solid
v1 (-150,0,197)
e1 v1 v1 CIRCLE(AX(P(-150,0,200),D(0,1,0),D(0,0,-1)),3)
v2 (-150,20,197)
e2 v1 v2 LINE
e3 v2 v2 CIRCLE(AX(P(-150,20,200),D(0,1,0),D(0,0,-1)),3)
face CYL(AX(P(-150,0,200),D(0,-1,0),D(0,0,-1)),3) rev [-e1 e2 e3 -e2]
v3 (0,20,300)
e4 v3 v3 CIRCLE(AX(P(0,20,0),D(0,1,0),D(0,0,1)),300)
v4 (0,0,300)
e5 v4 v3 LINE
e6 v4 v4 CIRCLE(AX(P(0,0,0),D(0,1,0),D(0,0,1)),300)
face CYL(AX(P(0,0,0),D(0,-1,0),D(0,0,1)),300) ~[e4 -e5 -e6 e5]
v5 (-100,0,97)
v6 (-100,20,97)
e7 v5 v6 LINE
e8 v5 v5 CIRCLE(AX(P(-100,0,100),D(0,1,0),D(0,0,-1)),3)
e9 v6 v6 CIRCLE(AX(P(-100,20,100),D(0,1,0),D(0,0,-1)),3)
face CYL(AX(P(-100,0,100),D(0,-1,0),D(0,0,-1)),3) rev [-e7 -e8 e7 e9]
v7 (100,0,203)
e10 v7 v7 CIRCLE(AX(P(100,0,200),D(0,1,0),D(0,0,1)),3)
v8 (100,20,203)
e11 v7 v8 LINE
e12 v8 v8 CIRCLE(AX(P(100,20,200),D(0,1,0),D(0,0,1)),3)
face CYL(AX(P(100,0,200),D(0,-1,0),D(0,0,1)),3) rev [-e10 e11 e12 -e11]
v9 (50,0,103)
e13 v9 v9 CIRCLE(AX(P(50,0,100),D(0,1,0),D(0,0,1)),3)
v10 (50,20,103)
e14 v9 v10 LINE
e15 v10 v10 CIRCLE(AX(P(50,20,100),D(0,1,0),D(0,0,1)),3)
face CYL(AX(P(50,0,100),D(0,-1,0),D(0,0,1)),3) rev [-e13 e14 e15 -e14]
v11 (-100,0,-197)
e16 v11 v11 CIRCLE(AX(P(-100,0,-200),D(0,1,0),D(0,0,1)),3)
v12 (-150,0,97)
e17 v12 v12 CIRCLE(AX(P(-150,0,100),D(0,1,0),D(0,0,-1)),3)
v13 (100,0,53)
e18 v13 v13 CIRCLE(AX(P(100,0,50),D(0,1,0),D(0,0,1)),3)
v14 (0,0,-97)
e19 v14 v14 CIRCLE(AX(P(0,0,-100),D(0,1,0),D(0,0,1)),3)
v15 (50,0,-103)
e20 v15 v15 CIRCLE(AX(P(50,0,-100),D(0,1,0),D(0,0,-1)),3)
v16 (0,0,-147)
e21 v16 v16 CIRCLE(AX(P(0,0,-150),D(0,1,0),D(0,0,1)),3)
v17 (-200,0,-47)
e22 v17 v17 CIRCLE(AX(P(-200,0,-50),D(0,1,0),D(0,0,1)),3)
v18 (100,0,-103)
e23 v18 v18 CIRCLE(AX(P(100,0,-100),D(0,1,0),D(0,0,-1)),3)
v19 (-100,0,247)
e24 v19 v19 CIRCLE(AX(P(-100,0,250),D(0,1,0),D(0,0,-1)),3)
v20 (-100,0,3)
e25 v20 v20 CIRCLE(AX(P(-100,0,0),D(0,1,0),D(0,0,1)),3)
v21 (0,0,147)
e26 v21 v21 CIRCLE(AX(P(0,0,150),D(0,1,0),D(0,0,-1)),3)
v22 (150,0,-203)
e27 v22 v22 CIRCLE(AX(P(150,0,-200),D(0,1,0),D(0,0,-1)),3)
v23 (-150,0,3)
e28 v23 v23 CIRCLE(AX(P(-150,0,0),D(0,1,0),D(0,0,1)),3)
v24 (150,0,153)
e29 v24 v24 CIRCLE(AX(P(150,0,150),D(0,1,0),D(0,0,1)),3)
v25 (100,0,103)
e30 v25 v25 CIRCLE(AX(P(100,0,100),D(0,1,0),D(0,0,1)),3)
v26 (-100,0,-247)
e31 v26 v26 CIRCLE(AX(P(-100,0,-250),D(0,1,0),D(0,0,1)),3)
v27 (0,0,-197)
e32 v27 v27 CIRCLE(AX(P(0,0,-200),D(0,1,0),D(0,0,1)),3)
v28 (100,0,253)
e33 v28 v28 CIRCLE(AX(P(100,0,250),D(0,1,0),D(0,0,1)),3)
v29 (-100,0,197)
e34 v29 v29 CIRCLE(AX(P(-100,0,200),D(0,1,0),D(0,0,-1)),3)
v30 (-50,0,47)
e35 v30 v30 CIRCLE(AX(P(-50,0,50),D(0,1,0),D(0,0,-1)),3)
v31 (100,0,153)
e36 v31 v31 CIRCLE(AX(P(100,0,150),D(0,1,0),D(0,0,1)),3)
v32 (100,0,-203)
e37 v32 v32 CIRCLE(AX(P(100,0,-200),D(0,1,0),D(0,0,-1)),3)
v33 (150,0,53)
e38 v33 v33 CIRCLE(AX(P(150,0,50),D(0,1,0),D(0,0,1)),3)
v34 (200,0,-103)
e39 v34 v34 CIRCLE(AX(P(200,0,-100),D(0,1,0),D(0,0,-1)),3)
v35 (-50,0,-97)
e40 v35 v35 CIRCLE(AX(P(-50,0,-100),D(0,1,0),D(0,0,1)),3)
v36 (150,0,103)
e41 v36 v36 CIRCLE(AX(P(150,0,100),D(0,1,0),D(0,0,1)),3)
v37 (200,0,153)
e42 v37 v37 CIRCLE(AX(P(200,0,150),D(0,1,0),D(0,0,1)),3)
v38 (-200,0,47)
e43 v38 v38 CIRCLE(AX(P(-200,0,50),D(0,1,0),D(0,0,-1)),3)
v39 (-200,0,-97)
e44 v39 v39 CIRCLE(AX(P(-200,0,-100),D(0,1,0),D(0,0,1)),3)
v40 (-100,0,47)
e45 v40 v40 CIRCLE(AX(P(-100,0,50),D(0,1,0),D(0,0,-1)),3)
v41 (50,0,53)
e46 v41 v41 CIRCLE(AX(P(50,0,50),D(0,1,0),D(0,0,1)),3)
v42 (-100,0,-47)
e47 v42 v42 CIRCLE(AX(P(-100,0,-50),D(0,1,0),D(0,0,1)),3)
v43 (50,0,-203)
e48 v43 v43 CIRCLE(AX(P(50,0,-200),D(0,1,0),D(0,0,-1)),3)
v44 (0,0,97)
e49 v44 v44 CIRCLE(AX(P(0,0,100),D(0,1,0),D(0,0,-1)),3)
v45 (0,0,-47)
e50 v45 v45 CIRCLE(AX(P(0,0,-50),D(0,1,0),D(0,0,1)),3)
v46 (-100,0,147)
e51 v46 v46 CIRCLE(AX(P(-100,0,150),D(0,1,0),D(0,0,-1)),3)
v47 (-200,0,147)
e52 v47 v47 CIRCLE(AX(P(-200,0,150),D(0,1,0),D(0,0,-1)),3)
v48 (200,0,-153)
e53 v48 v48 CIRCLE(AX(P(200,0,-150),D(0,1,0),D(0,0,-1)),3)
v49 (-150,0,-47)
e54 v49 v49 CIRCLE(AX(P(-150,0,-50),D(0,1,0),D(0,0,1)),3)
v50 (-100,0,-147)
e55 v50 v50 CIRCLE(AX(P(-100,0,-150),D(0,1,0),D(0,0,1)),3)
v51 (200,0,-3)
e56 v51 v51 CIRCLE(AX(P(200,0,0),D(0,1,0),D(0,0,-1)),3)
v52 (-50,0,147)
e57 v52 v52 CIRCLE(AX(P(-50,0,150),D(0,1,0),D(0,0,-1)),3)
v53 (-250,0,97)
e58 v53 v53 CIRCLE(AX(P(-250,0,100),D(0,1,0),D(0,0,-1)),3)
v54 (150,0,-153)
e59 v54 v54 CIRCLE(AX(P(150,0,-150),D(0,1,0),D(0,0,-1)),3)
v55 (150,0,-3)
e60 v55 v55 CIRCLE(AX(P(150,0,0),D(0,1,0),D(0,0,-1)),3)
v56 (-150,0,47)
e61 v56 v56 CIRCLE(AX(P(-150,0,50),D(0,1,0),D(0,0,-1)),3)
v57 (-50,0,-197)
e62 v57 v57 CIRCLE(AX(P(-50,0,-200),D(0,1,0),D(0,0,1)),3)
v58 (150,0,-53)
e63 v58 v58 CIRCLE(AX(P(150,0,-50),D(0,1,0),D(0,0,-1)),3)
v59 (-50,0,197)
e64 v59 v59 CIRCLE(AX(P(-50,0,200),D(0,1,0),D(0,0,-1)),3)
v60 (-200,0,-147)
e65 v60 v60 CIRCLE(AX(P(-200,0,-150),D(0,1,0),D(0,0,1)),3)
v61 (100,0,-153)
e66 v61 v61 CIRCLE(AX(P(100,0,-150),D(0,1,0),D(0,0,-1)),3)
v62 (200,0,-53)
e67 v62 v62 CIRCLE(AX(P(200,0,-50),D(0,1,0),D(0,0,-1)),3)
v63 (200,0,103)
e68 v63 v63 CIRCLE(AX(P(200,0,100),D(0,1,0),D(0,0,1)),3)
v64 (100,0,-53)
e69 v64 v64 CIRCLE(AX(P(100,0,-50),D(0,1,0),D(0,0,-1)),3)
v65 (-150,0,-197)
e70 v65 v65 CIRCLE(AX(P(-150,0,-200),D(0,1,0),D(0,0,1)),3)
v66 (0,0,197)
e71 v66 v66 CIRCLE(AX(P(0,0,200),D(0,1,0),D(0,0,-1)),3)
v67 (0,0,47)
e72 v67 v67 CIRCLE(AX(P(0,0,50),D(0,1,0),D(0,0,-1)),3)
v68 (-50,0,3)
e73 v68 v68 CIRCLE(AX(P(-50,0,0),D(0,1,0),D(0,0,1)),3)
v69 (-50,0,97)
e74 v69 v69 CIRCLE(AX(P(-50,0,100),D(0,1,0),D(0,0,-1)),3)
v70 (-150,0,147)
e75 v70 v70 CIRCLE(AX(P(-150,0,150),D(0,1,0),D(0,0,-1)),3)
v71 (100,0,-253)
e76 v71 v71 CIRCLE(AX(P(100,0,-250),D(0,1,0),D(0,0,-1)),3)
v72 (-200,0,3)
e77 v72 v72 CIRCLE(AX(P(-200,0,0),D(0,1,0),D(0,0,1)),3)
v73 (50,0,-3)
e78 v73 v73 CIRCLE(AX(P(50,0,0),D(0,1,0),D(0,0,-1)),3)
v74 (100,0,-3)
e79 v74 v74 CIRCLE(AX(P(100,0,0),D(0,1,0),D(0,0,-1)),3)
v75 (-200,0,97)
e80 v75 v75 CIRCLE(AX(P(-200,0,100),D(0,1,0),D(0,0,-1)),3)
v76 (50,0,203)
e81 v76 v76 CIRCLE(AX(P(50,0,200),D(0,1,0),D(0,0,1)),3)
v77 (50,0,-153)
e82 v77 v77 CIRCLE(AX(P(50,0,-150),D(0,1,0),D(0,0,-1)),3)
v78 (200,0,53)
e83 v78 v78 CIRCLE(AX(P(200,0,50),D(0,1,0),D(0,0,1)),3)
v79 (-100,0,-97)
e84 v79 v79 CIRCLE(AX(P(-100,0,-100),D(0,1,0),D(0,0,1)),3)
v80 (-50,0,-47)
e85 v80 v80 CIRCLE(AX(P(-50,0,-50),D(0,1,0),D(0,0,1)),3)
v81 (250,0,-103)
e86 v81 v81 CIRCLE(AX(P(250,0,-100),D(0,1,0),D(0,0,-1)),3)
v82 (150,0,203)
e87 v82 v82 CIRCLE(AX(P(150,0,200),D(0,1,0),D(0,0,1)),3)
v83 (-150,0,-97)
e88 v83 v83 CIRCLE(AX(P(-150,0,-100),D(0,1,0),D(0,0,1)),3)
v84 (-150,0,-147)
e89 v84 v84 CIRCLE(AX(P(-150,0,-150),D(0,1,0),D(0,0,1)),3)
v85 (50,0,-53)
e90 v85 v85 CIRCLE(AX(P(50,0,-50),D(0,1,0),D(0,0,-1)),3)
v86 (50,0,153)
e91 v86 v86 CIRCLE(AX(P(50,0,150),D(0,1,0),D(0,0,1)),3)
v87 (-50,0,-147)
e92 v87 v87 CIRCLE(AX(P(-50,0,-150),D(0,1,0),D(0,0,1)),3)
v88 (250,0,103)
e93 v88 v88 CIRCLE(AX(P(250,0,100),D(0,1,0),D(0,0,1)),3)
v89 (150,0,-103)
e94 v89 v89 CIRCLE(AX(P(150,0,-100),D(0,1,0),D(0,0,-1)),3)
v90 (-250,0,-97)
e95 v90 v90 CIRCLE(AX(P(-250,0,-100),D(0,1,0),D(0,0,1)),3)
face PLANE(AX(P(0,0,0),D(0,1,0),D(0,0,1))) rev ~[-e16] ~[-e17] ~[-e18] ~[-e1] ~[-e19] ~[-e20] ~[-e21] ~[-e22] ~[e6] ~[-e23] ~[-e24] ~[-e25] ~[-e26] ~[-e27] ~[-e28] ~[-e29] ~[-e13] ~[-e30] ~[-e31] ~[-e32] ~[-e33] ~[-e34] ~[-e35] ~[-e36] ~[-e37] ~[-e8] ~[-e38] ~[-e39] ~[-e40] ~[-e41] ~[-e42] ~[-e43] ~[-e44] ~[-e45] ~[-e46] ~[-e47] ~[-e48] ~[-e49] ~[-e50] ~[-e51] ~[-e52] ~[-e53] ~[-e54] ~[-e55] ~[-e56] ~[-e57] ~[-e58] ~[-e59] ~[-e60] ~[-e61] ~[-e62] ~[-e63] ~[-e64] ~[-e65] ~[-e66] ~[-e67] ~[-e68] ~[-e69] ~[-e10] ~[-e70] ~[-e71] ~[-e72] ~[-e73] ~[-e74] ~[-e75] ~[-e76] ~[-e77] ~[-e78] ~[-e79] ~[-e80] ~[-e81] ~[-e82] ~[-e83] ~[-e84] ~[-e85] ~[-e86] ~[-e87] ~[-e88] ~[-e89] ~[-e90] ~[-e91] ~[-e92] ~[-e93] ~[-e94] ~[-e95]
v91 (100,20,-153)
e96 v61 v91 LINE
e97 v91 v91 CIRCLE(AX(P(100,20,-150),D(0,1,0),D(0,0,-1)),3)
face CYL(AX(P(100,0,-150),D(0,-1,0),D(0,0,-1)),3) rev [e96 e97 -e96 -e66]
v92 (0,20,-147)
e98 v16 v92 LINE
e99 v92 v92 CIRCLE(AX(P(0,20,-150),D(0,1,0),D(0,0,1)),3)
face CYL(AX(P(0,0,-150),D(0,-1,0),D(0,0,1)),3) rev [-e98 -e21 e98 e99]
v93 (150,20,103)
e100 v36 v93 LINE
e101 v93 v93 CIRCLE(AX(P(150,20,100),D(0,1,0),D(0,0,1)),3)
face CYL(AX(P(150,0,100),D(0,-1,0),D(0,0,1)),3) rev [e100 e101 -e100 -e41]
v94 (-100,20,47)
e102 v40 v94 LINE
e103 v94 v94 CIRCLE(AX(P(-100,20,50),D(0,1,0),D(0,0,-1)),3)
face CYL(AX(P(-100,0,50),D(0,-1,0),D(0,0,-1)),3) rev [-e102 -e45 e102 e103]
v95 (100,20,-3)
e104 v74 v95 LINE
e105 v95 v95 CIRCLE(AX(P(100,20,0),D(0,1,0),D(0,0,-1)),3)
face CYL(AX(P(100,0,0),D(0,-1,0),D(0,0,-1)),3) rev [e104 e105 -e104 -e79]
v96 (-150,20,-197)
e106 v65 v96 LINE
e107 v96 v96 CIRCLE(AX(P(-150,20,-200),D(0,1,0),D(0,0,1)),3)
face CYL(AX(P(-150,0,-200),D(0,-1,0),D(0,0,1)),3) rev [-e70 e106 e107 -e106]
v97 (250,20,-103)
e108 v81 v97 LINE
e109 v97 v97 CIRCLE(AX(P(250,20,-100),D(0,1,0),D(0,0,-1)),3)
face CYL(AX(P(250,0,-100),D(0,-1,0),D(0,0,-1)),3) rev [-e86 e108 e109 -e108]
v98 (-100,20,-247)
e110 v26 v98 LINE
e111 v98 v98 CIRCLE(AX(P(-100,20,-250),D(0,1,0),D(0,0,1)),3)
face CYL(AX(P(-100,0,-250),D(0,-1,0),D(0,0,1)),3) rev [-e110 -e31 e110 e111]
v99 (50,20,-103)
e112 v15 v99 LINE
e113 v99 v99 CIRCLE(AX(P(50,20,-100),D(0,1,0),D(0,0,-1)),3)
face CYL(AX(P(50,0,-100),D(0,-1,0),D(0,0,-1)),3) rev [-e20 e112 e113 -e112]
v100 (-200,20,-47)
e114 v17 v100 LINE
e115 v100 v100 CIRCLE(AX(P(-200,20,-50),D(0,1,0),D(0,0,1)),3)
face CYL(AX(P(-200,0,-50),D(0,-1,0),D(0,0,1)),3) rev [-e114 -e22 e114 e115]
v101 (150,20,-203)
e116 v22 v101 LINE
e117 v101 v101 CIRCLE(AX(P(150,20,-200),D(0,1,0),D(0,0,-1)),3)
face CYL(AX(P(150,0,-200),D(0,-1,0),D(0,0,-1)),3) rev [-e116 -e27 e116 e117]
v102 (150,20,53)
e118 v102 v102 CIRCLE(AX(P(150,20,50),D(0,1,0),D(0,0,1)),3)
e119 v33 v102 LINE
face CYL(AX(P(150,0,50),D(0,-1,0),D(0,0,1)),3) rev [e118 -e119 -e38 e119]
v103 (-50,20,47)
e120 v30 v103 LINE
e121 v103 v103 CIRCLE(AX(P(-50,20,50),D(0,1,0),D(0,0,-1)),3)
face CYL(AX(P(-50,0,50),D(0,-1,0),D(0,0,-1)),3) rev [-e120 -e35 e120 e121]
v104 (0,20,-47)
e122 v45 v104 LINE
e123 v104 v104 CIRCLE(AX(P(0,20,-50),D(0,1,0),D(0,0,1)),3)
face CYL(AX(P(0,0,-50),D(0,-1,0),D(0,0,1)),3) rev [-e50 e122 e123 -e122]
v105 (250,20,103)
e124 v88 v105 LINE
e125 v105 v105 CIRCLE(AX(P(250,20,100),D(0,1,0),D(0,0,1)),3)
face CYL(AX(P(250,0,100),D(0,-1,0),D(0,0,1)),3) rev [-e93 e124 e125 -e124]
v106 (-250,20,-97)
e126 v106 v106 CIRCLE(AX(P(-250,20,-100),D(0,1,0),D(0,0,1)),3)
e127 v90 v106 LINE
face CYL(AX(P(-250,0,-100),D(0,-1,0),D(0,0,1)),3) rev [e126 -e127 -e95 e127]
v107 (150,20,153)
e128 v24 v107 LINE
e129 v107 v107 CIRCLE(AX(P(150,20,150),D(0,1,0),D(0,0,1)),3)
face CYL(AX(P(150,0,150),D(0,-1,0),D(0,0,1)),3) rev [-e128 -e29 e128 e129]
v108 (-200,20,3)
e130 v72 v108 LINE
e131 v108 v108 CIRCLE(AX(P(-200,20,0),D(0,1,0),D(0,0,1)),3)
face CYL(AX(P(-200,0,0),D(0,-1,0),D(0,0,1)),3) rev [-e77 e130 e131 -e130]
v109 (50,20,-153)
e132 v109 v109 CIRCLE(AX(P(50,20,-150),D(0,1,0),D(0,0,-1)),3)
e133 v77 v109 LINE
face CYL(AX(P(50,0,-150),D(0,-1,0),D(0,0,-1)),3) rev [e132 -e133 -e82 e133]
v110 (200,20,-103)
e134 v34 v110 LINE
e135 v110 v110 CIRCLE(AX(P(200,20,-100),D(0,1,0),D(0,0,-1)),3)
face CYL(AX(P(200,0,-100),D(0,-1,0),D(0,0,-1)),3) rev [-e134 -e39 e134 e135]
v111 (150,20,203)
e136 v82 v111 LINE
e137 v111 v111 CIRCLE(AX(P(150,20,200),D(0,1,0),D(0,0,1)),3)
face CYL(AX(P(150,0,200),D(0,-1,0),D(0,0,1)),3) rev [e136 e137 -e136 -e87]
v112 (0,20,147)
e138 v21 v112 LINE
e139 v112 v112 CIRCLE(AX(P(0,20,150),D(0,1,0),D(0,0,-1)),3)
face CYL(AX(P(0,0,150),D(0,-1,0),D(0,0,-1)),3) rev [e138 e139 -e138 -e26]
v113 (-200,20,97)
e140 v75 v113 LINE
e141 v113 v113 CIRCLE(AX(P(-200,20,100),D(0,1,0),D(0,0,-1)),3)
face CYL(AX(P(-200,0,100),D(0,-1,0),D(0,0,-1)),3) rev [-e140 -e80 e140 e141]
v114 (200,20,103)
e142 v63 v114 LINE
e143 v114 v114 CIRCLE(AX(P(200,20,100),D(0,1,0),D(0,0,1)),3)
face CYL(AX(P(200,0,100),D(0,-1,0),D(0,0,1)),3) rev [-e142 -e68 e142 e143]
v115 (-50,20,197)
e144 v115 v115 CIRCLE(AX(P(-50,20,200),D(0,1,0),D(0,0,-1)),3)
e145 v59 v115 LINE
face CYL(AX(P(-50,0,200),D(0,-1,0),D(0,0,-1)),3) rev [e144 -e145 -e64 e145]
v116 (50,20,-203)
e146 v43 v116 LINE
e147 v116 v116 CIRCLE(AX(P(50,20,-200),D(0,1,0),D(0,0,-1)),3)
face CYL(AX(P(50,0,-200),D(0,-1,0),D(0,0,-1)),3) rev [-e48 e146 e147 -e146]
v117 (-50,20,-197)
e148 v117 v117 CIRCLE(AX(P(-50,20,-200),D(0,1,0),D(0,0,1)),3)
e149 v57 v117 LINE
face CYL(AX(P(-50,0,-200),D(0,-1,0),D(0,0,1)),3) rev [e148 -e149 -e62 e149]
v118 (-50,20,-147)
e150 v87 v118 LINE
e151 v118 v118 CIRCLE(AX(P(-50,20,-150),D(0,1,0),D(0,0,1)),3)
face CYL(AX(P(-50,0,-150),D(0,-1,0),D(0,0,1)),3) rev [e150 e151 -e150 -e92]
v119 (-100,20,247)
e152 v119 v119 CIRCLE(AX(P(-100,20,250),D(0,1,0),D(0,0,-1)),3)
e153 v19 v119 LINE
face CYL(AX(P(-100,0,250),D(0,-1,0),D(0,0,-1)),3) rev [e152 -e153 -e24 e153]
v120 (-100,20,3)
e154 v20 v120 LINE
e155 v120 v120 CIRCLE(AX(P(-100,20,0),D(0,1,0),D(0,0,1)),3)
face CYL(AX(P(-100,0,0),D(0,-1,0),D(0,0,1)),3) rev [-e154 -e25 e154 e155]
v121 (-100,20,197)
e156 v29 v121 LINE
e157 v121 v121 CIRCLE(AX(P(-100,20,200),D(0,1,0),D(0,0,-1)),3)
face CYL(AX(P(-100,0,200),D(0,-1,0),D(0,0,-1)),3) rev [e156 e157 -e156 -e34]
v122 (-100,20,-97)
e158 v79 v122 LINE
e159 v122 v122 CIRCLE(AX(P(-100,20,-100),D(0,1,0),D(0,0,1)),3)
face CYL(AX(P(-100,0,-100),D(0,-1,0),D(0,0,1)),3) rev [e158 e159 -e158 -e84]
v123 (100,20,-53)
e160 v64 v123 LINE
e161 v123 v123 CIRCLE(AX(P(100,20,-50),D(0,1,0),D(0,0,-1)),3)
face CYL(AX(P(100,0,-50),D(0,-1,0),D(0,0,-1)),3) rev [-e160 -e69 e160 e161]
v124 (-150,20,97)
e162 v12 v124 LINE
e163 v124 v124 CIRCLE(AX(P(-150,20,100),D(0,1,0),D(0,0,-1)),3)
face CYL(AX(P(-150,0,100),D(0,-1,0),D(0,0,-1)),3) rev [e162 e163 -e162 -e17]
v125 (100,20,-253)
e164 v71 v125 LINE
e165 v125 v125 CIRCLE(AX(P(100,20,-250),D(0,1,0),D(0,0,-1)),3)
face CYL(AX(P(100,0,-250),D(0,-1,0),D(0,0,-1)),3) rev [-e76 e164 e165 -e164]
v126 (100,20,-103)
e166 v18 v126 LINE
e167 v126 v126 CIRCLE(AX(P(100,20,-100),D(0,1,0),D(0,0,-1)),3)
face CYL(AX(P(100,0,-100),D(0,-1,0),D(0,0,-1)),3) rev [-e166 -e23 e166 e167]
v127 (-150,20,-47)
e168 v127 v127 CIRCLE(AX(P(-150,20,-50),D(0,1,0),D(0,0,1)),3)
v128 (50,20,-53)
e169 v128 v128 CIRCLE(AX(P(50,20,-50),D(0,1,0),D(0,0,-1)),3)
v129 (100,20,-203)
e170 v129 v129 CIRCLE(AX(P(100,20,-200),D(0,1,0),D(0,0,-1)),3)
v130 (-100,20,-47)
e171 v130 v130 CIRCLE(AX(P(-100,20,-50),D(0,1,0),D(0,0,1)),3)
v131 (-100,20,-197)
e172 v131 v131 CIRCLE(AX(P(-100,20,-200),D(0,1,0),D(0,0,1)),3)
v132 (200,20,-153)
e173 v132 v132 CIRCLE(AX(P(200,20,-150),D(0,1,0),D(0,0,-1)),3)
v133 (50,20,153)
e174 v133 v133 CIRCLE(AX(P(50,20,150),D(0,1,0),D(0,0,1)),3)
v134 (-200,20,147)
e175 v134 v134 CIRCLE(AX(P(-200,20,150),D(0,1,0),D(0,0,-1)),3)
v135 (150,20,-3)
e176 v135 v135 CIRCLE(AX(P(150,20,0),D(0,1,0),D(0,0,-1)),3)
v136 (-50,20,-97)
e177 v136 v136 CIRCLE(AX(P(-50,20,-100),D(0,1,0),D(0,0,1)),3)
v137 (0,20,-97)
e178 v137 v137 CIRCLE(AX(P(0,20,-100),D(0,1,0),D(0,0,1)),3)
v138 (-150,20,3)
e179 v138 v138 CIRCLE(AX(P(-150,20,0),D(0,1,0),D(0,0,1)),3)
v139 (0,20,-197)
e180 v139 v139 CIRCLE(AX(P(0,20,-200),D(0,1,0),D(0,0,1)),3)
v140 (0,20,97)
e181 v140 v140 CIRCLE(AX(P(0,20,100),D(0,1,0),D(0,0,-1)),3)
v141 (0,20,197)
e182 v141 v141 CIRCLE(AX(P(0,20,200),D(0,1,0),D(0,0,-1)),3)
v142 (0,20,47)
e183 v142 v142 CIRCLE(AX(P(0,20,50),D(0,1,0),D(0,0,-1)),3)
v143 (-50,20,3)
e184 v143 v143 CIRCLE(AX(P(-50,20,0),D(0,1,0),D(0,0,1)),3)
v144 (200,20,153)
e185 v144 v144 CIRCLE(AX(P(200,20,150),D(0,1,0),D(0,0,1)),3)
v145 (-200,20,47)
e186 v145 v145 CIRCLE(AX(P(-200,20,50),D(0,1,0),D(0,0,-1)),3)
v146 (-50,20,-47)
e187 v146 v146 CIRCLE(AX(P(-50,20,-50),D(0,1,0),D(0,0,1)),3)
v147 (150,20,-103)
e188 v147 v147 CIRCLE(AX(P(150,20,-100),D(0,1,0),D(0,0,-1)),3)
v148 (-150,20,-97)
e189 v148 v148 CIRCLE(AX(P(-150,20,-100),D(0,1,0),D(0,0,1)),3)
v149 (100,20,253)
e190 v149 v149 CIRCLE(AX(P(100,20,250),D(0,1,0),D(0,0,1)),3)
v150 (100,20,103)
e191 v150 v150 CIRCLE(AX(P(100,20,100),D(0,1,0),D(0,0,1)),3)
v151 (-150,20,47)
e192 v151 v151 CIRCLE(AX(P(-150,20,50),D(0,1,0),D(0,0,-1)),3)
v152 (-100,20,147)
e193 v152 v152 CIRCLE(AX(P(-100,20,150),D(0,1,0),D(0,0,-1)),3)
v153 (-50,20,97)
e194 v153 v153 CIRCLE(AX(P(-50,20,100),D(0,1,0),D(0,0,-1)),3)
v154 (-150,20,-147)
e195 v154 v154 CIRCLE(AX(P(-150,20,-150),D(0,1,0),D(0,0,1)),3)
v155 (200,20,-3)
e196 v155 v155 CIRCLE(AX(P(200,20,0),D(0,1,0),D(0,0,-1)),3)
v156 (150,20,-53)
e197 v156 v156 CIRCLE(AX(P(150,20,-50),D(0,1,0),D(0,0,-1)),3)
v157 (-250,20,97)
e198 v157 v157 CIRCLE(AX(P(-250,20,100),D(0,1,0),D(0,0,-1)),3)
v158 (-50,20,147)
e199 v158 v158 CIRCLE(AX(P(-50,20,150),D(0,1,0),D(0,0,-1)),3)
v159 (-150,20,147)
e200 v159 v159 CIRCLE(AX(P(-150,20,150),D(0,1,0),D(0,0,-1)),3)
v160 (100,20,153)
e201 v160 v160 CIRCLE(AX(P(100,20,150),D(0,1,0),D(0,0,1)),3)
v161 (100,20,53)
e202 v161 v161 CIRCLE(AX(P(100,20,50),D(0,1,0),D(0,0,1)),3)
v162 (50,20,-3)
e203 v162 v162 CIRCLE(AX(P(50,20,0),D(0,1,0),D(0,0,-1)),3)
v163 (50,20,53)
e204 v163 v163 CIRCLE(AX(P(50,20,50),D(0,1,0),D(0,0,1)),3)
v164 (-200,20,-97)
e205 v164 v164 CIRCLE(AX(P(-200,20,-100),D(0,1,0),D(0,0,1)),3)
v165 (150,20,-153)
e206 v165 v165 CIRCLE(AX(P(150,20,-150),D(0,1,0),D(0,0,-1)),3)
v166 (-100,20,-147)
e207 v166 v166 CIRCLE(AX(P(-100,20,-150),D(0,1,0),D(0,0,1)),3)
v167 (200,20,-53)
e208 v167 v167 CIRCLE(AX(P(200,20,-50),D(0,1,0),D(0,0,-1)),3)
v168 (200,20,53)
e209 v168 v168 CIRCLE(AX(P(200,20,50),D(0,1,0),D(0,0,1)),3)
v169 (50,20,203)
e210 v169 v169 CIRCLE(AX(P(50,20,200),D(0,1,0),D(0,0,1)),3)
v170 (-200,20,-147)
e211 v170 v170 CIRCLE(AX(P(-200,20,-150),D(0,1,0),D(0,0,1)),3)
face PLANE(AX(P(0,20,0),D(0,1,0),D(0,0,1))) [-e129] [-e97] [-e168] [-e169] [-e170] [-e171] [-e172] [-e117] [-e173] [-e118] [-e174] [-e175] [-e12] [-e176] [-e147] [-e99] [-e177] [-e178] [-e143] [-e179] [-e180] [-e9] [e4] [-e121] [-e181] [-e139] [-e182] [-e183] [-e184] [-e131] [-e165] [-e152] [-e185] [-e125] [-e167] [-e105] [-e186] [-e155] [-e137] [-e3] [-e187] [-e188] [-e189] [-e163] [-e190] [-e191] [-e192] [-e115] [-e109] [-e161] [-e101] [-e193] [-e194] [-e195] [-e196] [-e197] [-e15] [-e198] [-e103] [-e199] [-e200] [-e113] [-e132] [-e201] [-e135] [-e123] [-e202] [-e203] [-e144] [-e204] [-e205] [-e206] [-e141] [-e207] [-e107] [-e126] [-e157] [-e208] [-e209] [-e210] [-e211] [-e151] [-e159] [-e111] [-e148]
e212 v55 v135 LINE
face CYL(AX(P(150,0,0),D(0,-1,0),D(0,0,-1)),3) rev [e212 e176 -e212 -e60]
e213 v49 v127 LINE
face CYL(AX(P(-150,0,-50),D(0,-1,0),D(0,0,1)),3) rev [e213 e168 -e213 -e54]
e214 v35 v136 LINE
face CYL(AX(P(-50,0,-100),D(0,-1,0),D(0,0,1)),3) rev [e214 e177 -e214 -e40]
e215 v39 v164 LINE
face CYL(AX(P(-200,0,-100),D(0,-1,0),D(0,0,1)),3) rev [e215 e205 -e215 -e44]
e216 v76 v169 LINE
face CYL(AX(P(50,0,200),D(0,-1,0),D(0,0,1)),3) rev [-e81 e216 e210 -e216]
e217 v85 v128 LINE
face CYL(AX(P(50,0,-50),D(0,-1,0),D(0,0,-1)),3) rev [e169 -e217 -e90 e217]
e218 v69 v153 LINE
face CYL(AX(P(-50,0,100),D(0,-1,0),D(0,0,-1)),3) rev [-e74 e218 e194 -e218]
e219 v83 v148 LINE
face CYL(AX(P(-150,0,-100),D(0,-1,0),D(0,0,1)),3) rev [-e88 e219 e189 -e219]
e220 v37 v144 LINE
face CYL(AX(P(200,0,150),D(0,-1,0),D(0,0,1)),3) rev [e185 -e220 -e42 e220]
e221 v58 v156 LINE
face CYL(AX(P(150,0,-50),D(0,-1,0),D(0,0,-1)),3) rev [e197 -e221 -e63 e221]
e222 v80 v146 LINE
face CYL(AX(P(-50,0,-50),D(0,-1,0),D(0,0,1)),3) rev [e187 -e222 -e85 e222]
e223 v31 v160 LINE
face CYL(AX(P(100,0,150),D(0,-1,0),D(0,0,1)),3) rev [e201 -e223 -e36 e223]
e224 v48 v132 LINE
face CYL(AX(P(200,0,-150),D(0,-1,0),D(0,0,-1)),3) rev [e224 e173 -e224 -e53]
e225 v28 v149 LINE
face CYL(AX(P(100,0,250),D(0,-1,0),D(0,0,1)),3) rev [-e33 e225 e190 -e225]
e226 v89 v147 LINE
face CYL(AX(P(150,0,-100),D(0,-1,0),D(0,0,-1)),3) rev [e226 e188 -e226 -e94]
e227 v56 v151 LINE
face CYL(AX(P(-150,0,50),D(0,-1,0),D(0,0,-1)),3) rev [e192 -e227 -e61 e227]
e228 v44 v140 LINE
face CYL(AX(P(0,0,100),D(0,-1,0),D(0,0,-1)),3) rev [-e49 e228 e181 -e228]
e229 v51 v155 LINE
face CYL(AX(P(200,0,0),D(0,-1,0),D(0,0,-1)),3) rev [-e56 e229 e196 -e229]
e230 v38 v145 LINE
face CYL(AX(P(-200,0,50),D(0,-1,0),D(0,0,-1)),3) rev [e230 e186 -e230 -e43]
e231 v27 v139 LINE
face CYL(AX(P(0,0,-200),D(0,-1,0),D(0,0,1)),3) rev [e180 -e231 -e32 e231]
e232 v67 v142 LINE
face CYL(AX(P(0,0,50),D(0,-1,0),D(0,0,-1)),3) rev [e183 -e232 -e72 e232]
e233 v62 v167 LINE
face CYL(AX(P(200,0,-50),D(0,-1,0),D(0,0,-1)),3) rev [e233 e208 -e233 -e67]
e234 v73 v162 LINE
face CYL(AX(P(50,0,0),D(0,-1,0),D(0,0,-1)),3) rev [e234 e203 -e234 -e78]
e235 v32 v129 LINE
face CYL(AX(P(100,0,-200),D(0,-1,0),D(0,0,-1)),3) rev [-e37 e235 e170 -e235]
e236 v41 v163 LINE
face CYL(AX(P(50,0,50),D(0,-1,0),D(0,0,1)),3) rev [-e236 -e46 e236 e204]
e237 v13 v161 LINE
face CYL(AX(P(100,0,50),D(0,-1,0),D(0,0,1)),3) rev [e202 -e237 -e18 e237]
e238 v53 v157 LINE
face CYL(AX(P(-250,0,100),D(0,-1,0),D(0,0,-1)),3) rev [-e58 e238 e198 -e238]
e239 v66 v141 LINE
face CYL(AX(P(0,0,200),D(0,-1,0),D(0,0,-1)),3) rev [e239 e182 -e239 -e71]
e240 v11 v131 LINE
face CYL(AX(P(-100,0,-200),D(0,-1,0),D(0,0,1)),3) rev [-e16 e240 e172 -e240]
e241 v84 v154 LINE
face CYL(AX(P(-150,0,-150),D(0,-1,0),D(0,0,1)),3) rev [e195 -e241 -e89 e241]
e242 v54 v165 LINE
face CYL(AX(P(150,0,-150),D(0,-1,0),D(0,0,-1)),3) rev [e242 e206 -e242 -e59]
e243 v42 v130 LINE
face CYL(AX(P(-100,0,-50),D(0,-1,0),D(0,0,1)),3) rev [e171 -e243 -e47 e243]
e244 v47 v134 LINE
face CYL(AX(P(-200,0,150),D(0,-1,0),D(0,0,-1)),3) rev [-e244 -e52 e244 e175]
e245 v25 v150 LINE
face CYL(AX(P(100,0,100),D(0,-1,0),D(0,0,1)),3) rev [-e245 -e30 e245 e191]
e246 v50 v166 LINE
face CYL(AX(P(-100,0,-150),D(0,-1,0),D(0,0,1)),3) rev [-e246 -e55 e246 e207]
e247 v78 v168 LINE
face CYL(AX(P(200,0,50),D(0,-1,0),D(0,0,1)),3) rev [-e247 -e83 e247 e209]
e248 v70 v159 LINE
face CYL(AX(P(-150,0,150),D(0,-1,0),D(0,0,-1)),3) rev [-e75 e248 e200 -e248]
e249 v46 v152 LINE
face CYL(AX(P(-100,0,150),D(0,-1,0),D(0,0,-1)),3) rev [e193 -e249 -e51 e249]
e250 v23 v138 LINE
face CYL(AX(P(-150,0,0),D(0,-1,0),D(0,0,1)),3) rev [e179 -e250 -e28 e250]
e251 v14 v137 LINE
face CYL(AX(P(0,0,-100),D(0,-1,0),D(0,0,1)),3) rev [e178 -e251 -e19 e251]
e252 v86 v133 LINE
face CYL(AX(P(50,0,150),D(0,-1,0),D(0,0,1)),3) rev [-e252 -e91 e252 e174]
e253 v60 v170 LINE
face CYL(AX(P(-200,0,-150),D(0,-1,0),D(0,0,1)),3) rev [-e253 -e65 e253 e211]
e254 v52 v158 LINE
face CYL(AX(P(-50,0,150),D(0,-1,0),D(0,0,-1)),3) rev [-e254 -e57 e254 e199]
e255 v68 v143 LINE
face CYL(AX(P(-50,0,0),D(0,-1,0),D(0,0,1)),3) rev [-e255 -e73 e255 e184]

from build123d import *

# Parameters (mm, degrees)
SKETCH_2_R      = 300
SKETCH_2_R_2    = 3
EXTRUDE_1_DEPTH = 20


with BuildPart() as part:
    # Эскиз2 → Бобышка-Вытянуть1 (new body)
    with BuildSketch(Plane(origin=(0, 0, 0), x_dir=(1, 0, 0), z_dir=(0, 1, 0))):
        with Locations(Location((0, 0, 0), (0, 0, 270))):
            Circle(SKETCH_2_R)
        with Locations(Location((-50, 50, 0), (0, 0, 270))):
            Circle(SKETCH_2_R_2, mode=Mode.SUBTRACT)
        with Locations(Location((-100, 50, 0), (0, 0, 270))):
            Circle(SKETCH_2_R_2, mode=Mode.SUBTRACT)
        with Locations(Location((-150, 50, 0), (0, 0, 270))):
            Circle(SKETCH_2_R_2, mode=Mode.SUBTRACT)
        with Locations(Location((-200, 50, 0), (0, 0, 270))):
            Circle(SKETCH_2_R_2, mode=Mode.SUBTRACT)
        with Locations(Location((-50, 100, 0), (0, 0, 270))):
            Circle(SKETCH_2_R_2, mode=Mode.SUBTRACT)
        with Locations(Location((-100, 100, 0), (0, 0, 270))):
            Circle(SKETCH_2_R_2, mode=Mode.SUBTRACT)
        with Locations(Location((-150, 100, 0), (0, 0, 270))):
            Circle(SKETCH_2_R_2, mode=Mode.SUBTRACT)
        with Locations(Location((-200, 100, 0), (0, 0, 270))):
            Circle(SKETCH_2_R_2, mode=Mode.SUBTRACT)
        with Locations(Location((-250, 100, 0), (0, 0, 270))):
            Circle(SKETCH_2_R_2, mode=Mode.SUBTRACT)
        with Locations(Location((-50, 150, 0), (0, 0, 270))):
            Circle(SKETCH_2_R_2, mode=Mode.SUBTRACT)
        with Locations(Location((-100, 150, 0), (0, 0, 270))):
            Circle(SKETCH_2_R_2, mode=Mode.SUBTRACT)
        with Locations(Location((-150, 150, 0), (0, 0, 270))):
            Circle(SKETCH_2_R_2, mode=Mode.SUBTRACT)
        with Locations(Location((-200, 150, 0), (0, 0, 270))):
            Circle(SKETCH_2_R_2, mode=Mode.SUBTRACT)
        with Locations(Location((-50, 200, 0), (0, 0, 270))):
            Circle(SKETCH_2_R_2, mode=Mode.SUBTRACT)
        with Locations(Location((-100, 200, 0), (0, 0, 270))):
            Circle(SKETCH_2_R_2, mode=Mode.SUBTRACT)
        with Locations(Location((-150, 200, 0), (0, 0, 270))):
            Circle(SKETCH_2_R_2, mode=Mode.SUBTRACT)
        with Locations(Location((-100, 250, 0), (0, 0, 270))):
            Circle(SKETCH_2_R_2, mode=Mode.SUBTRACT)
        with Locations(Location((-50, 0, 0), (0, 0, 270))):
            Circle(SKETCH_2_R_2, mode=Mode.SUBTRACT)
        with Locations(Location((-150, 0, 0), (0, 0, 270))):
            Circle(SKETCH_2_R_2, mode=Mode.SUBTRACT)
        with Locations(Location((-100, 0, 0), (0, 0, 270))):
            Circle(SKETCH_2_R_2, mode=Mode.SUBTRACT)
        with Locations(Location((-200, 0, 0), (0, 0, 270))):
            Circle(SKETCH_2_R_2, mode=Mode.SUBTRACT)
        with Locations(Location((0, 50, 0), (0, 0, 270))):
            Circle(SKETCH_2_R_2, mode=Mode.SUBTRACT)
        with Locations(Location((0, 100, 0), (0, 0, 270))):
            Circle(SKETCH_2_R_2, mode=Mode.SUBTRACT)
        with Locations(Location((0, 150, 0), (0, 0, 270))):
            Circle(SKETCH_2_R_2, mode=Mode.SUBTRACT)
        with Locations(Location((0, 200, 0), (0, 0, 270))):
            Circle(SKETCH_2_R_2, mode=Mode.SUBTRACT)
        with Locations(Location((200, 0, 0), (0, 0, 90))):
            Circle(SKETCH_2_R_2, mode=Mode.SUBTRACT)
        with Locations(Location((100, 0, 0), (0, 0, 90))):
            Circle(SKETCH_2_R_2, mode=Mode.SUBTRACT)
        with Locations(Location((150, 0, 0), (0, 0, 90))):
            Circle(SKETCH_2_R_2, mode=Mode.SUBTRACT)
        with Locations(Location((50, 0, 0), (0, 0, 90))):
            Circle(SKETCH_2_R_2, mode=Mode.SUBTRACT)
        with Locations(Location((100, 250, 0), (0, 0, 90))):
            Circle(SKETCH_2_R_2, mode=Mode.SUBTRACT)
        with Locations(Location((150, 200, 0), (0, 0, 90))):
            Circle(SKETCH_2_R_2, mode=Mode.SUBTRACT)
        with Locations(Location((100, 200, 0), (0, 0, 90))):
            Circle(SKETCH_2_R_2, mode=Mode.SUBTRACT)
        with Locations(Location((50, 200, 0), (0, 0, 90))):
            Circle(SKETCH_2_R_2, mode=Mode.SUBTRACT)
        with Locations(Location((200, 150, 0), (0, 0, 90))):
            Circle(SKETCH_2_R_2, mode=Mode.SUBTRACT)
        with Locations(Location((150, 150, 0), (0, 0, 90))):
            Circle(SKETCH_2_R_2, mode=Mode.SUBTRACT)
        with Locations(Location((100, 150, 0), (0, 0, 90))):
            Circle(SKETCH_2_R_2, mode=Mode.SUBTRACT)
        with Locations(Location((50, 150, 0), (0, 0, 90))):
            Circle(SKETCH_2_R_2, mode=Mode.SUBTRACT)
        with Locations(Location((250, 100, 0), (0, 0, 90))):
            Circle(SKETCH_2_R_2, mode=Mode.SUBTRACT)
        with Locations(Location((200, 100, 0), (0, 0, 90))):
            Circle(SKETCH_2_R_2, mode=Mode.SUBTRACT)
        with Locations(Location((150, 100, 0), (0, 0, 90))):
            Circle(SKETCH_2_R_2, mode=Mode.SUBTRACT)
        with Locations(Location((100, 100, 0), (0, 0, 90))):
            Circle(SKETCH_2_R_2, mode=Mode.SUBTRACT)
        with Locations(Location((50, 100, 0), (0, 0, 90))):
            Circle(SKETCH_2_R_2, mode=Mode.SUBTRACT)
        with Locations(Location((200, 50, 0), (0, 0, 90))):
            Circle(SKETCH_2_R_2, mode=Mode.SUBTRACT)
        with Locations(Location((150, 50, 0), (0, 0, 90))):
            Circle(SKETCH_2_R_2, mode=Mode.SUBTRACT)
        with Locations(Location((100, 50, 0), (0, 0, 90))):
            Circle(SKETCH_2_R_2, mode=Mode.SUBTRACT)
        with Locations(Location((50, 50, 0), (0, 0, 90))):
            Circle(SKETCH_2_R_2, mode=Mode.SUBTRACT)
        with Locations(Location((50, -50, 0), (0, 0, 270))):
            Circle(SKETCH_2_R_2, mode=Mode.SUBTRACT)
        with Locations(Location((100, -50, 0), (0, 0, 270))):
            Circle(SKETCH_2_R_2, mode=Mode.SUBTRACT)
        with Locations(Location((150, -50, 0), (0, 0, 270))):
            Circle(SKETCH_2_R_2, mode=Mode.SUBTRACT)
        with Locations(Location((200, -50, 0), (0, 0, 270))):
            Circle(SKETCH_2_R_2, mode=Mode.SUBTRACT)
        with Locations(Location((50, -100, 0), (0, 0, 270))):
            Circle(SKETCH_2_R_2, mode=Mode.SUBTRACT)
        with Locations(Location((100, -100, 0), (0, 0, 270))):
            Circle(SKETCH_2_R_2, mode=Mode.SUBTRACT)
        with Locations(Location((150, -100, 0), (0, 0, 270))):
            Circle(SKETCH_2_R_2, mode=Mode.SUBTRACT)
        with Locations(Location((200, -100, 0), (0, 0, 270))):
            Circle(SKETCH_2_R_2, mode=Mode.SUBTRACT)
        with Locations(Location((250, -100, 0), (0, 0, 270))):
            Circle(SKETCH_2_R_2, mode=Mode.SUBTRACT)
        with Locations(Location((50, -150, 0), (0, 0, 270))):
            Circle(SKETCH_2_R_2, mode=Mode.SUBTRACT)
        with Locations(Location((100, -150, 0), (0, 0, 270))):
            Circle(SKETCH_2_R_2, mode=Mode.SUBTRACT)
        with Locations(Location((150, -150, 0), (0, 0, 270))):
            Circle(SKETCH_2_R_2, mode=Mode.SUBTRACT)
        with Locations(Location((200, -150, 0), (0, 0, 270))):
            Circle(SKETCH_2_R_2, mode=Mode.SUBTRACT)
        with Locations(Location((50, -200, 0), (0, 0, 270))):
            Circle(SKETCH_2_R_2, mode=Mode.SUBTRACT)
        with Locations(Location((100, -200, 0), (0, 0, 270))):
            Circle(SKETCH_2_R_2, mode=Mode.SUBTRACT)
        with Locations(Location((150, -200, 0), (0, 0, 270))):
            Circle(SKETCH_2_R_2, mode=Mode.SUBTRACT)
        with Locations(Location((100, -250, 0), (0, 0, 270))):
            Circle(SKETCH_2_R_2, mode=Mode.SUBTRACT)
        with Locations(Location((0, -200, 0), (0, 0, 90))):
            Circle(SKETCH_2_R_2, mode=Mode.SUBTRACT)
        with Locations(Location((0, -150, 0), (0, 0, 90))):
            Circle(SKETCH_2_R_2, mode=Mode.SUBTRACT)
        with Locations(Location((0, -100, 0), (0, 0, 90))):
            Circle(SKETCH_2_R_2, mode=Mode.SUBTRACT)
        with Locations(Location((0, -50, 0), (0, 0, 90))):
            Circle(SKETCH_2_R_2, mode=Mode.SUBTRACT)
        with Locations(Location((-100, -250, 0), (0, 0, 90))):
            Circle(SKETCH_2_R_2, mode=Mode.SUBTRACT)
        with Locations(Location((-150, -200, 0), (0, 0, 90))):
            Circle(SKETCH_2_R_2, mode=Mode.SUBTRACT)
        with Locations(Location((-100, -200, 0), (0, 0, 90))):
            Circle(SKETCH_2_R_2, mode=Mode.SUBTRACT)
        with Locations(Location((-50, -200, 0), (0, 0, 90))):
            Circle(SKETCH_2_R_2, mode=Mode.SUBTRACT)
        with Locations(Location((-200, -150, 0), (0, 0, 90))):
            Circle(SKETCH_2_R_2, mode=Mode.SUBTRACT)
        with Locations(Location((-150, -150, 0), (0, 0, 90))):
            Circle(SKETCH_2_R_2, mode=Mode.SUBTRACT)
        with Locations(Location((-100, -150, 0), (0, 0, 90))):
            Circle(SKETCH_2_R_2, mode=Mode.SUBTRACT)
        with Locations(Location((-50, -150, 0), (0, 0, 90))):
            Circle(SKETCH_2_R_2, mode=Mode.SUBTRACT)
        with Locations(Location((-250, -100, 0), (0, 0, 90))):
            Circle(SKETCH_2_R_2, mode=Mode.SUBTRACT)
        with Locations(Location((-200, -100, 0), (0, 0, 90))):
            Circle(SKETCH_2_R_2, mode=Mode.SUBTRACT)
        with Locations(Location((-150, -100, 0), (0, 0, 90))):
            Circle(SKETCH_2_R_2, mode=Mode.SUBTRACT)
        with Locations(Location((-100, -100, 0), (0, 0, 90))):
            Circle(SKETCH_2_R_2, mode=Mode.SUBTRACT)
        with Locations(Location((-50, -100, 0), (0, 0, 90))):
            Circle(SKETCH_2_R_2, mode=Mode.SUBTRACT)
        with Locations(Location((-200, -50, 0), (0, 0, 90))):
            Circle(SKETCH_2_R_2, mode=Mode.SUBTRACT)
        with Locations(Location((-150, -50, 0), (0, 0, 90))):
            Circle(SKETCH_2_R_2, mode=Mode.SUBTRACT)
        with Locations(Location((-100, -50, 0), (0, 0, 90))):
            Circle(SKETCH_2_R_2, mode=Mode.SUBTRACT)
        with Locations(Location((-50, -50, 0), (0, 0, 90))):
            Circle(SKETCH_2_R_2, mode=Mode.SUBTRACT)
    extrude(amount=EXTRUDE_1_DEPTH)


solid = part.part
